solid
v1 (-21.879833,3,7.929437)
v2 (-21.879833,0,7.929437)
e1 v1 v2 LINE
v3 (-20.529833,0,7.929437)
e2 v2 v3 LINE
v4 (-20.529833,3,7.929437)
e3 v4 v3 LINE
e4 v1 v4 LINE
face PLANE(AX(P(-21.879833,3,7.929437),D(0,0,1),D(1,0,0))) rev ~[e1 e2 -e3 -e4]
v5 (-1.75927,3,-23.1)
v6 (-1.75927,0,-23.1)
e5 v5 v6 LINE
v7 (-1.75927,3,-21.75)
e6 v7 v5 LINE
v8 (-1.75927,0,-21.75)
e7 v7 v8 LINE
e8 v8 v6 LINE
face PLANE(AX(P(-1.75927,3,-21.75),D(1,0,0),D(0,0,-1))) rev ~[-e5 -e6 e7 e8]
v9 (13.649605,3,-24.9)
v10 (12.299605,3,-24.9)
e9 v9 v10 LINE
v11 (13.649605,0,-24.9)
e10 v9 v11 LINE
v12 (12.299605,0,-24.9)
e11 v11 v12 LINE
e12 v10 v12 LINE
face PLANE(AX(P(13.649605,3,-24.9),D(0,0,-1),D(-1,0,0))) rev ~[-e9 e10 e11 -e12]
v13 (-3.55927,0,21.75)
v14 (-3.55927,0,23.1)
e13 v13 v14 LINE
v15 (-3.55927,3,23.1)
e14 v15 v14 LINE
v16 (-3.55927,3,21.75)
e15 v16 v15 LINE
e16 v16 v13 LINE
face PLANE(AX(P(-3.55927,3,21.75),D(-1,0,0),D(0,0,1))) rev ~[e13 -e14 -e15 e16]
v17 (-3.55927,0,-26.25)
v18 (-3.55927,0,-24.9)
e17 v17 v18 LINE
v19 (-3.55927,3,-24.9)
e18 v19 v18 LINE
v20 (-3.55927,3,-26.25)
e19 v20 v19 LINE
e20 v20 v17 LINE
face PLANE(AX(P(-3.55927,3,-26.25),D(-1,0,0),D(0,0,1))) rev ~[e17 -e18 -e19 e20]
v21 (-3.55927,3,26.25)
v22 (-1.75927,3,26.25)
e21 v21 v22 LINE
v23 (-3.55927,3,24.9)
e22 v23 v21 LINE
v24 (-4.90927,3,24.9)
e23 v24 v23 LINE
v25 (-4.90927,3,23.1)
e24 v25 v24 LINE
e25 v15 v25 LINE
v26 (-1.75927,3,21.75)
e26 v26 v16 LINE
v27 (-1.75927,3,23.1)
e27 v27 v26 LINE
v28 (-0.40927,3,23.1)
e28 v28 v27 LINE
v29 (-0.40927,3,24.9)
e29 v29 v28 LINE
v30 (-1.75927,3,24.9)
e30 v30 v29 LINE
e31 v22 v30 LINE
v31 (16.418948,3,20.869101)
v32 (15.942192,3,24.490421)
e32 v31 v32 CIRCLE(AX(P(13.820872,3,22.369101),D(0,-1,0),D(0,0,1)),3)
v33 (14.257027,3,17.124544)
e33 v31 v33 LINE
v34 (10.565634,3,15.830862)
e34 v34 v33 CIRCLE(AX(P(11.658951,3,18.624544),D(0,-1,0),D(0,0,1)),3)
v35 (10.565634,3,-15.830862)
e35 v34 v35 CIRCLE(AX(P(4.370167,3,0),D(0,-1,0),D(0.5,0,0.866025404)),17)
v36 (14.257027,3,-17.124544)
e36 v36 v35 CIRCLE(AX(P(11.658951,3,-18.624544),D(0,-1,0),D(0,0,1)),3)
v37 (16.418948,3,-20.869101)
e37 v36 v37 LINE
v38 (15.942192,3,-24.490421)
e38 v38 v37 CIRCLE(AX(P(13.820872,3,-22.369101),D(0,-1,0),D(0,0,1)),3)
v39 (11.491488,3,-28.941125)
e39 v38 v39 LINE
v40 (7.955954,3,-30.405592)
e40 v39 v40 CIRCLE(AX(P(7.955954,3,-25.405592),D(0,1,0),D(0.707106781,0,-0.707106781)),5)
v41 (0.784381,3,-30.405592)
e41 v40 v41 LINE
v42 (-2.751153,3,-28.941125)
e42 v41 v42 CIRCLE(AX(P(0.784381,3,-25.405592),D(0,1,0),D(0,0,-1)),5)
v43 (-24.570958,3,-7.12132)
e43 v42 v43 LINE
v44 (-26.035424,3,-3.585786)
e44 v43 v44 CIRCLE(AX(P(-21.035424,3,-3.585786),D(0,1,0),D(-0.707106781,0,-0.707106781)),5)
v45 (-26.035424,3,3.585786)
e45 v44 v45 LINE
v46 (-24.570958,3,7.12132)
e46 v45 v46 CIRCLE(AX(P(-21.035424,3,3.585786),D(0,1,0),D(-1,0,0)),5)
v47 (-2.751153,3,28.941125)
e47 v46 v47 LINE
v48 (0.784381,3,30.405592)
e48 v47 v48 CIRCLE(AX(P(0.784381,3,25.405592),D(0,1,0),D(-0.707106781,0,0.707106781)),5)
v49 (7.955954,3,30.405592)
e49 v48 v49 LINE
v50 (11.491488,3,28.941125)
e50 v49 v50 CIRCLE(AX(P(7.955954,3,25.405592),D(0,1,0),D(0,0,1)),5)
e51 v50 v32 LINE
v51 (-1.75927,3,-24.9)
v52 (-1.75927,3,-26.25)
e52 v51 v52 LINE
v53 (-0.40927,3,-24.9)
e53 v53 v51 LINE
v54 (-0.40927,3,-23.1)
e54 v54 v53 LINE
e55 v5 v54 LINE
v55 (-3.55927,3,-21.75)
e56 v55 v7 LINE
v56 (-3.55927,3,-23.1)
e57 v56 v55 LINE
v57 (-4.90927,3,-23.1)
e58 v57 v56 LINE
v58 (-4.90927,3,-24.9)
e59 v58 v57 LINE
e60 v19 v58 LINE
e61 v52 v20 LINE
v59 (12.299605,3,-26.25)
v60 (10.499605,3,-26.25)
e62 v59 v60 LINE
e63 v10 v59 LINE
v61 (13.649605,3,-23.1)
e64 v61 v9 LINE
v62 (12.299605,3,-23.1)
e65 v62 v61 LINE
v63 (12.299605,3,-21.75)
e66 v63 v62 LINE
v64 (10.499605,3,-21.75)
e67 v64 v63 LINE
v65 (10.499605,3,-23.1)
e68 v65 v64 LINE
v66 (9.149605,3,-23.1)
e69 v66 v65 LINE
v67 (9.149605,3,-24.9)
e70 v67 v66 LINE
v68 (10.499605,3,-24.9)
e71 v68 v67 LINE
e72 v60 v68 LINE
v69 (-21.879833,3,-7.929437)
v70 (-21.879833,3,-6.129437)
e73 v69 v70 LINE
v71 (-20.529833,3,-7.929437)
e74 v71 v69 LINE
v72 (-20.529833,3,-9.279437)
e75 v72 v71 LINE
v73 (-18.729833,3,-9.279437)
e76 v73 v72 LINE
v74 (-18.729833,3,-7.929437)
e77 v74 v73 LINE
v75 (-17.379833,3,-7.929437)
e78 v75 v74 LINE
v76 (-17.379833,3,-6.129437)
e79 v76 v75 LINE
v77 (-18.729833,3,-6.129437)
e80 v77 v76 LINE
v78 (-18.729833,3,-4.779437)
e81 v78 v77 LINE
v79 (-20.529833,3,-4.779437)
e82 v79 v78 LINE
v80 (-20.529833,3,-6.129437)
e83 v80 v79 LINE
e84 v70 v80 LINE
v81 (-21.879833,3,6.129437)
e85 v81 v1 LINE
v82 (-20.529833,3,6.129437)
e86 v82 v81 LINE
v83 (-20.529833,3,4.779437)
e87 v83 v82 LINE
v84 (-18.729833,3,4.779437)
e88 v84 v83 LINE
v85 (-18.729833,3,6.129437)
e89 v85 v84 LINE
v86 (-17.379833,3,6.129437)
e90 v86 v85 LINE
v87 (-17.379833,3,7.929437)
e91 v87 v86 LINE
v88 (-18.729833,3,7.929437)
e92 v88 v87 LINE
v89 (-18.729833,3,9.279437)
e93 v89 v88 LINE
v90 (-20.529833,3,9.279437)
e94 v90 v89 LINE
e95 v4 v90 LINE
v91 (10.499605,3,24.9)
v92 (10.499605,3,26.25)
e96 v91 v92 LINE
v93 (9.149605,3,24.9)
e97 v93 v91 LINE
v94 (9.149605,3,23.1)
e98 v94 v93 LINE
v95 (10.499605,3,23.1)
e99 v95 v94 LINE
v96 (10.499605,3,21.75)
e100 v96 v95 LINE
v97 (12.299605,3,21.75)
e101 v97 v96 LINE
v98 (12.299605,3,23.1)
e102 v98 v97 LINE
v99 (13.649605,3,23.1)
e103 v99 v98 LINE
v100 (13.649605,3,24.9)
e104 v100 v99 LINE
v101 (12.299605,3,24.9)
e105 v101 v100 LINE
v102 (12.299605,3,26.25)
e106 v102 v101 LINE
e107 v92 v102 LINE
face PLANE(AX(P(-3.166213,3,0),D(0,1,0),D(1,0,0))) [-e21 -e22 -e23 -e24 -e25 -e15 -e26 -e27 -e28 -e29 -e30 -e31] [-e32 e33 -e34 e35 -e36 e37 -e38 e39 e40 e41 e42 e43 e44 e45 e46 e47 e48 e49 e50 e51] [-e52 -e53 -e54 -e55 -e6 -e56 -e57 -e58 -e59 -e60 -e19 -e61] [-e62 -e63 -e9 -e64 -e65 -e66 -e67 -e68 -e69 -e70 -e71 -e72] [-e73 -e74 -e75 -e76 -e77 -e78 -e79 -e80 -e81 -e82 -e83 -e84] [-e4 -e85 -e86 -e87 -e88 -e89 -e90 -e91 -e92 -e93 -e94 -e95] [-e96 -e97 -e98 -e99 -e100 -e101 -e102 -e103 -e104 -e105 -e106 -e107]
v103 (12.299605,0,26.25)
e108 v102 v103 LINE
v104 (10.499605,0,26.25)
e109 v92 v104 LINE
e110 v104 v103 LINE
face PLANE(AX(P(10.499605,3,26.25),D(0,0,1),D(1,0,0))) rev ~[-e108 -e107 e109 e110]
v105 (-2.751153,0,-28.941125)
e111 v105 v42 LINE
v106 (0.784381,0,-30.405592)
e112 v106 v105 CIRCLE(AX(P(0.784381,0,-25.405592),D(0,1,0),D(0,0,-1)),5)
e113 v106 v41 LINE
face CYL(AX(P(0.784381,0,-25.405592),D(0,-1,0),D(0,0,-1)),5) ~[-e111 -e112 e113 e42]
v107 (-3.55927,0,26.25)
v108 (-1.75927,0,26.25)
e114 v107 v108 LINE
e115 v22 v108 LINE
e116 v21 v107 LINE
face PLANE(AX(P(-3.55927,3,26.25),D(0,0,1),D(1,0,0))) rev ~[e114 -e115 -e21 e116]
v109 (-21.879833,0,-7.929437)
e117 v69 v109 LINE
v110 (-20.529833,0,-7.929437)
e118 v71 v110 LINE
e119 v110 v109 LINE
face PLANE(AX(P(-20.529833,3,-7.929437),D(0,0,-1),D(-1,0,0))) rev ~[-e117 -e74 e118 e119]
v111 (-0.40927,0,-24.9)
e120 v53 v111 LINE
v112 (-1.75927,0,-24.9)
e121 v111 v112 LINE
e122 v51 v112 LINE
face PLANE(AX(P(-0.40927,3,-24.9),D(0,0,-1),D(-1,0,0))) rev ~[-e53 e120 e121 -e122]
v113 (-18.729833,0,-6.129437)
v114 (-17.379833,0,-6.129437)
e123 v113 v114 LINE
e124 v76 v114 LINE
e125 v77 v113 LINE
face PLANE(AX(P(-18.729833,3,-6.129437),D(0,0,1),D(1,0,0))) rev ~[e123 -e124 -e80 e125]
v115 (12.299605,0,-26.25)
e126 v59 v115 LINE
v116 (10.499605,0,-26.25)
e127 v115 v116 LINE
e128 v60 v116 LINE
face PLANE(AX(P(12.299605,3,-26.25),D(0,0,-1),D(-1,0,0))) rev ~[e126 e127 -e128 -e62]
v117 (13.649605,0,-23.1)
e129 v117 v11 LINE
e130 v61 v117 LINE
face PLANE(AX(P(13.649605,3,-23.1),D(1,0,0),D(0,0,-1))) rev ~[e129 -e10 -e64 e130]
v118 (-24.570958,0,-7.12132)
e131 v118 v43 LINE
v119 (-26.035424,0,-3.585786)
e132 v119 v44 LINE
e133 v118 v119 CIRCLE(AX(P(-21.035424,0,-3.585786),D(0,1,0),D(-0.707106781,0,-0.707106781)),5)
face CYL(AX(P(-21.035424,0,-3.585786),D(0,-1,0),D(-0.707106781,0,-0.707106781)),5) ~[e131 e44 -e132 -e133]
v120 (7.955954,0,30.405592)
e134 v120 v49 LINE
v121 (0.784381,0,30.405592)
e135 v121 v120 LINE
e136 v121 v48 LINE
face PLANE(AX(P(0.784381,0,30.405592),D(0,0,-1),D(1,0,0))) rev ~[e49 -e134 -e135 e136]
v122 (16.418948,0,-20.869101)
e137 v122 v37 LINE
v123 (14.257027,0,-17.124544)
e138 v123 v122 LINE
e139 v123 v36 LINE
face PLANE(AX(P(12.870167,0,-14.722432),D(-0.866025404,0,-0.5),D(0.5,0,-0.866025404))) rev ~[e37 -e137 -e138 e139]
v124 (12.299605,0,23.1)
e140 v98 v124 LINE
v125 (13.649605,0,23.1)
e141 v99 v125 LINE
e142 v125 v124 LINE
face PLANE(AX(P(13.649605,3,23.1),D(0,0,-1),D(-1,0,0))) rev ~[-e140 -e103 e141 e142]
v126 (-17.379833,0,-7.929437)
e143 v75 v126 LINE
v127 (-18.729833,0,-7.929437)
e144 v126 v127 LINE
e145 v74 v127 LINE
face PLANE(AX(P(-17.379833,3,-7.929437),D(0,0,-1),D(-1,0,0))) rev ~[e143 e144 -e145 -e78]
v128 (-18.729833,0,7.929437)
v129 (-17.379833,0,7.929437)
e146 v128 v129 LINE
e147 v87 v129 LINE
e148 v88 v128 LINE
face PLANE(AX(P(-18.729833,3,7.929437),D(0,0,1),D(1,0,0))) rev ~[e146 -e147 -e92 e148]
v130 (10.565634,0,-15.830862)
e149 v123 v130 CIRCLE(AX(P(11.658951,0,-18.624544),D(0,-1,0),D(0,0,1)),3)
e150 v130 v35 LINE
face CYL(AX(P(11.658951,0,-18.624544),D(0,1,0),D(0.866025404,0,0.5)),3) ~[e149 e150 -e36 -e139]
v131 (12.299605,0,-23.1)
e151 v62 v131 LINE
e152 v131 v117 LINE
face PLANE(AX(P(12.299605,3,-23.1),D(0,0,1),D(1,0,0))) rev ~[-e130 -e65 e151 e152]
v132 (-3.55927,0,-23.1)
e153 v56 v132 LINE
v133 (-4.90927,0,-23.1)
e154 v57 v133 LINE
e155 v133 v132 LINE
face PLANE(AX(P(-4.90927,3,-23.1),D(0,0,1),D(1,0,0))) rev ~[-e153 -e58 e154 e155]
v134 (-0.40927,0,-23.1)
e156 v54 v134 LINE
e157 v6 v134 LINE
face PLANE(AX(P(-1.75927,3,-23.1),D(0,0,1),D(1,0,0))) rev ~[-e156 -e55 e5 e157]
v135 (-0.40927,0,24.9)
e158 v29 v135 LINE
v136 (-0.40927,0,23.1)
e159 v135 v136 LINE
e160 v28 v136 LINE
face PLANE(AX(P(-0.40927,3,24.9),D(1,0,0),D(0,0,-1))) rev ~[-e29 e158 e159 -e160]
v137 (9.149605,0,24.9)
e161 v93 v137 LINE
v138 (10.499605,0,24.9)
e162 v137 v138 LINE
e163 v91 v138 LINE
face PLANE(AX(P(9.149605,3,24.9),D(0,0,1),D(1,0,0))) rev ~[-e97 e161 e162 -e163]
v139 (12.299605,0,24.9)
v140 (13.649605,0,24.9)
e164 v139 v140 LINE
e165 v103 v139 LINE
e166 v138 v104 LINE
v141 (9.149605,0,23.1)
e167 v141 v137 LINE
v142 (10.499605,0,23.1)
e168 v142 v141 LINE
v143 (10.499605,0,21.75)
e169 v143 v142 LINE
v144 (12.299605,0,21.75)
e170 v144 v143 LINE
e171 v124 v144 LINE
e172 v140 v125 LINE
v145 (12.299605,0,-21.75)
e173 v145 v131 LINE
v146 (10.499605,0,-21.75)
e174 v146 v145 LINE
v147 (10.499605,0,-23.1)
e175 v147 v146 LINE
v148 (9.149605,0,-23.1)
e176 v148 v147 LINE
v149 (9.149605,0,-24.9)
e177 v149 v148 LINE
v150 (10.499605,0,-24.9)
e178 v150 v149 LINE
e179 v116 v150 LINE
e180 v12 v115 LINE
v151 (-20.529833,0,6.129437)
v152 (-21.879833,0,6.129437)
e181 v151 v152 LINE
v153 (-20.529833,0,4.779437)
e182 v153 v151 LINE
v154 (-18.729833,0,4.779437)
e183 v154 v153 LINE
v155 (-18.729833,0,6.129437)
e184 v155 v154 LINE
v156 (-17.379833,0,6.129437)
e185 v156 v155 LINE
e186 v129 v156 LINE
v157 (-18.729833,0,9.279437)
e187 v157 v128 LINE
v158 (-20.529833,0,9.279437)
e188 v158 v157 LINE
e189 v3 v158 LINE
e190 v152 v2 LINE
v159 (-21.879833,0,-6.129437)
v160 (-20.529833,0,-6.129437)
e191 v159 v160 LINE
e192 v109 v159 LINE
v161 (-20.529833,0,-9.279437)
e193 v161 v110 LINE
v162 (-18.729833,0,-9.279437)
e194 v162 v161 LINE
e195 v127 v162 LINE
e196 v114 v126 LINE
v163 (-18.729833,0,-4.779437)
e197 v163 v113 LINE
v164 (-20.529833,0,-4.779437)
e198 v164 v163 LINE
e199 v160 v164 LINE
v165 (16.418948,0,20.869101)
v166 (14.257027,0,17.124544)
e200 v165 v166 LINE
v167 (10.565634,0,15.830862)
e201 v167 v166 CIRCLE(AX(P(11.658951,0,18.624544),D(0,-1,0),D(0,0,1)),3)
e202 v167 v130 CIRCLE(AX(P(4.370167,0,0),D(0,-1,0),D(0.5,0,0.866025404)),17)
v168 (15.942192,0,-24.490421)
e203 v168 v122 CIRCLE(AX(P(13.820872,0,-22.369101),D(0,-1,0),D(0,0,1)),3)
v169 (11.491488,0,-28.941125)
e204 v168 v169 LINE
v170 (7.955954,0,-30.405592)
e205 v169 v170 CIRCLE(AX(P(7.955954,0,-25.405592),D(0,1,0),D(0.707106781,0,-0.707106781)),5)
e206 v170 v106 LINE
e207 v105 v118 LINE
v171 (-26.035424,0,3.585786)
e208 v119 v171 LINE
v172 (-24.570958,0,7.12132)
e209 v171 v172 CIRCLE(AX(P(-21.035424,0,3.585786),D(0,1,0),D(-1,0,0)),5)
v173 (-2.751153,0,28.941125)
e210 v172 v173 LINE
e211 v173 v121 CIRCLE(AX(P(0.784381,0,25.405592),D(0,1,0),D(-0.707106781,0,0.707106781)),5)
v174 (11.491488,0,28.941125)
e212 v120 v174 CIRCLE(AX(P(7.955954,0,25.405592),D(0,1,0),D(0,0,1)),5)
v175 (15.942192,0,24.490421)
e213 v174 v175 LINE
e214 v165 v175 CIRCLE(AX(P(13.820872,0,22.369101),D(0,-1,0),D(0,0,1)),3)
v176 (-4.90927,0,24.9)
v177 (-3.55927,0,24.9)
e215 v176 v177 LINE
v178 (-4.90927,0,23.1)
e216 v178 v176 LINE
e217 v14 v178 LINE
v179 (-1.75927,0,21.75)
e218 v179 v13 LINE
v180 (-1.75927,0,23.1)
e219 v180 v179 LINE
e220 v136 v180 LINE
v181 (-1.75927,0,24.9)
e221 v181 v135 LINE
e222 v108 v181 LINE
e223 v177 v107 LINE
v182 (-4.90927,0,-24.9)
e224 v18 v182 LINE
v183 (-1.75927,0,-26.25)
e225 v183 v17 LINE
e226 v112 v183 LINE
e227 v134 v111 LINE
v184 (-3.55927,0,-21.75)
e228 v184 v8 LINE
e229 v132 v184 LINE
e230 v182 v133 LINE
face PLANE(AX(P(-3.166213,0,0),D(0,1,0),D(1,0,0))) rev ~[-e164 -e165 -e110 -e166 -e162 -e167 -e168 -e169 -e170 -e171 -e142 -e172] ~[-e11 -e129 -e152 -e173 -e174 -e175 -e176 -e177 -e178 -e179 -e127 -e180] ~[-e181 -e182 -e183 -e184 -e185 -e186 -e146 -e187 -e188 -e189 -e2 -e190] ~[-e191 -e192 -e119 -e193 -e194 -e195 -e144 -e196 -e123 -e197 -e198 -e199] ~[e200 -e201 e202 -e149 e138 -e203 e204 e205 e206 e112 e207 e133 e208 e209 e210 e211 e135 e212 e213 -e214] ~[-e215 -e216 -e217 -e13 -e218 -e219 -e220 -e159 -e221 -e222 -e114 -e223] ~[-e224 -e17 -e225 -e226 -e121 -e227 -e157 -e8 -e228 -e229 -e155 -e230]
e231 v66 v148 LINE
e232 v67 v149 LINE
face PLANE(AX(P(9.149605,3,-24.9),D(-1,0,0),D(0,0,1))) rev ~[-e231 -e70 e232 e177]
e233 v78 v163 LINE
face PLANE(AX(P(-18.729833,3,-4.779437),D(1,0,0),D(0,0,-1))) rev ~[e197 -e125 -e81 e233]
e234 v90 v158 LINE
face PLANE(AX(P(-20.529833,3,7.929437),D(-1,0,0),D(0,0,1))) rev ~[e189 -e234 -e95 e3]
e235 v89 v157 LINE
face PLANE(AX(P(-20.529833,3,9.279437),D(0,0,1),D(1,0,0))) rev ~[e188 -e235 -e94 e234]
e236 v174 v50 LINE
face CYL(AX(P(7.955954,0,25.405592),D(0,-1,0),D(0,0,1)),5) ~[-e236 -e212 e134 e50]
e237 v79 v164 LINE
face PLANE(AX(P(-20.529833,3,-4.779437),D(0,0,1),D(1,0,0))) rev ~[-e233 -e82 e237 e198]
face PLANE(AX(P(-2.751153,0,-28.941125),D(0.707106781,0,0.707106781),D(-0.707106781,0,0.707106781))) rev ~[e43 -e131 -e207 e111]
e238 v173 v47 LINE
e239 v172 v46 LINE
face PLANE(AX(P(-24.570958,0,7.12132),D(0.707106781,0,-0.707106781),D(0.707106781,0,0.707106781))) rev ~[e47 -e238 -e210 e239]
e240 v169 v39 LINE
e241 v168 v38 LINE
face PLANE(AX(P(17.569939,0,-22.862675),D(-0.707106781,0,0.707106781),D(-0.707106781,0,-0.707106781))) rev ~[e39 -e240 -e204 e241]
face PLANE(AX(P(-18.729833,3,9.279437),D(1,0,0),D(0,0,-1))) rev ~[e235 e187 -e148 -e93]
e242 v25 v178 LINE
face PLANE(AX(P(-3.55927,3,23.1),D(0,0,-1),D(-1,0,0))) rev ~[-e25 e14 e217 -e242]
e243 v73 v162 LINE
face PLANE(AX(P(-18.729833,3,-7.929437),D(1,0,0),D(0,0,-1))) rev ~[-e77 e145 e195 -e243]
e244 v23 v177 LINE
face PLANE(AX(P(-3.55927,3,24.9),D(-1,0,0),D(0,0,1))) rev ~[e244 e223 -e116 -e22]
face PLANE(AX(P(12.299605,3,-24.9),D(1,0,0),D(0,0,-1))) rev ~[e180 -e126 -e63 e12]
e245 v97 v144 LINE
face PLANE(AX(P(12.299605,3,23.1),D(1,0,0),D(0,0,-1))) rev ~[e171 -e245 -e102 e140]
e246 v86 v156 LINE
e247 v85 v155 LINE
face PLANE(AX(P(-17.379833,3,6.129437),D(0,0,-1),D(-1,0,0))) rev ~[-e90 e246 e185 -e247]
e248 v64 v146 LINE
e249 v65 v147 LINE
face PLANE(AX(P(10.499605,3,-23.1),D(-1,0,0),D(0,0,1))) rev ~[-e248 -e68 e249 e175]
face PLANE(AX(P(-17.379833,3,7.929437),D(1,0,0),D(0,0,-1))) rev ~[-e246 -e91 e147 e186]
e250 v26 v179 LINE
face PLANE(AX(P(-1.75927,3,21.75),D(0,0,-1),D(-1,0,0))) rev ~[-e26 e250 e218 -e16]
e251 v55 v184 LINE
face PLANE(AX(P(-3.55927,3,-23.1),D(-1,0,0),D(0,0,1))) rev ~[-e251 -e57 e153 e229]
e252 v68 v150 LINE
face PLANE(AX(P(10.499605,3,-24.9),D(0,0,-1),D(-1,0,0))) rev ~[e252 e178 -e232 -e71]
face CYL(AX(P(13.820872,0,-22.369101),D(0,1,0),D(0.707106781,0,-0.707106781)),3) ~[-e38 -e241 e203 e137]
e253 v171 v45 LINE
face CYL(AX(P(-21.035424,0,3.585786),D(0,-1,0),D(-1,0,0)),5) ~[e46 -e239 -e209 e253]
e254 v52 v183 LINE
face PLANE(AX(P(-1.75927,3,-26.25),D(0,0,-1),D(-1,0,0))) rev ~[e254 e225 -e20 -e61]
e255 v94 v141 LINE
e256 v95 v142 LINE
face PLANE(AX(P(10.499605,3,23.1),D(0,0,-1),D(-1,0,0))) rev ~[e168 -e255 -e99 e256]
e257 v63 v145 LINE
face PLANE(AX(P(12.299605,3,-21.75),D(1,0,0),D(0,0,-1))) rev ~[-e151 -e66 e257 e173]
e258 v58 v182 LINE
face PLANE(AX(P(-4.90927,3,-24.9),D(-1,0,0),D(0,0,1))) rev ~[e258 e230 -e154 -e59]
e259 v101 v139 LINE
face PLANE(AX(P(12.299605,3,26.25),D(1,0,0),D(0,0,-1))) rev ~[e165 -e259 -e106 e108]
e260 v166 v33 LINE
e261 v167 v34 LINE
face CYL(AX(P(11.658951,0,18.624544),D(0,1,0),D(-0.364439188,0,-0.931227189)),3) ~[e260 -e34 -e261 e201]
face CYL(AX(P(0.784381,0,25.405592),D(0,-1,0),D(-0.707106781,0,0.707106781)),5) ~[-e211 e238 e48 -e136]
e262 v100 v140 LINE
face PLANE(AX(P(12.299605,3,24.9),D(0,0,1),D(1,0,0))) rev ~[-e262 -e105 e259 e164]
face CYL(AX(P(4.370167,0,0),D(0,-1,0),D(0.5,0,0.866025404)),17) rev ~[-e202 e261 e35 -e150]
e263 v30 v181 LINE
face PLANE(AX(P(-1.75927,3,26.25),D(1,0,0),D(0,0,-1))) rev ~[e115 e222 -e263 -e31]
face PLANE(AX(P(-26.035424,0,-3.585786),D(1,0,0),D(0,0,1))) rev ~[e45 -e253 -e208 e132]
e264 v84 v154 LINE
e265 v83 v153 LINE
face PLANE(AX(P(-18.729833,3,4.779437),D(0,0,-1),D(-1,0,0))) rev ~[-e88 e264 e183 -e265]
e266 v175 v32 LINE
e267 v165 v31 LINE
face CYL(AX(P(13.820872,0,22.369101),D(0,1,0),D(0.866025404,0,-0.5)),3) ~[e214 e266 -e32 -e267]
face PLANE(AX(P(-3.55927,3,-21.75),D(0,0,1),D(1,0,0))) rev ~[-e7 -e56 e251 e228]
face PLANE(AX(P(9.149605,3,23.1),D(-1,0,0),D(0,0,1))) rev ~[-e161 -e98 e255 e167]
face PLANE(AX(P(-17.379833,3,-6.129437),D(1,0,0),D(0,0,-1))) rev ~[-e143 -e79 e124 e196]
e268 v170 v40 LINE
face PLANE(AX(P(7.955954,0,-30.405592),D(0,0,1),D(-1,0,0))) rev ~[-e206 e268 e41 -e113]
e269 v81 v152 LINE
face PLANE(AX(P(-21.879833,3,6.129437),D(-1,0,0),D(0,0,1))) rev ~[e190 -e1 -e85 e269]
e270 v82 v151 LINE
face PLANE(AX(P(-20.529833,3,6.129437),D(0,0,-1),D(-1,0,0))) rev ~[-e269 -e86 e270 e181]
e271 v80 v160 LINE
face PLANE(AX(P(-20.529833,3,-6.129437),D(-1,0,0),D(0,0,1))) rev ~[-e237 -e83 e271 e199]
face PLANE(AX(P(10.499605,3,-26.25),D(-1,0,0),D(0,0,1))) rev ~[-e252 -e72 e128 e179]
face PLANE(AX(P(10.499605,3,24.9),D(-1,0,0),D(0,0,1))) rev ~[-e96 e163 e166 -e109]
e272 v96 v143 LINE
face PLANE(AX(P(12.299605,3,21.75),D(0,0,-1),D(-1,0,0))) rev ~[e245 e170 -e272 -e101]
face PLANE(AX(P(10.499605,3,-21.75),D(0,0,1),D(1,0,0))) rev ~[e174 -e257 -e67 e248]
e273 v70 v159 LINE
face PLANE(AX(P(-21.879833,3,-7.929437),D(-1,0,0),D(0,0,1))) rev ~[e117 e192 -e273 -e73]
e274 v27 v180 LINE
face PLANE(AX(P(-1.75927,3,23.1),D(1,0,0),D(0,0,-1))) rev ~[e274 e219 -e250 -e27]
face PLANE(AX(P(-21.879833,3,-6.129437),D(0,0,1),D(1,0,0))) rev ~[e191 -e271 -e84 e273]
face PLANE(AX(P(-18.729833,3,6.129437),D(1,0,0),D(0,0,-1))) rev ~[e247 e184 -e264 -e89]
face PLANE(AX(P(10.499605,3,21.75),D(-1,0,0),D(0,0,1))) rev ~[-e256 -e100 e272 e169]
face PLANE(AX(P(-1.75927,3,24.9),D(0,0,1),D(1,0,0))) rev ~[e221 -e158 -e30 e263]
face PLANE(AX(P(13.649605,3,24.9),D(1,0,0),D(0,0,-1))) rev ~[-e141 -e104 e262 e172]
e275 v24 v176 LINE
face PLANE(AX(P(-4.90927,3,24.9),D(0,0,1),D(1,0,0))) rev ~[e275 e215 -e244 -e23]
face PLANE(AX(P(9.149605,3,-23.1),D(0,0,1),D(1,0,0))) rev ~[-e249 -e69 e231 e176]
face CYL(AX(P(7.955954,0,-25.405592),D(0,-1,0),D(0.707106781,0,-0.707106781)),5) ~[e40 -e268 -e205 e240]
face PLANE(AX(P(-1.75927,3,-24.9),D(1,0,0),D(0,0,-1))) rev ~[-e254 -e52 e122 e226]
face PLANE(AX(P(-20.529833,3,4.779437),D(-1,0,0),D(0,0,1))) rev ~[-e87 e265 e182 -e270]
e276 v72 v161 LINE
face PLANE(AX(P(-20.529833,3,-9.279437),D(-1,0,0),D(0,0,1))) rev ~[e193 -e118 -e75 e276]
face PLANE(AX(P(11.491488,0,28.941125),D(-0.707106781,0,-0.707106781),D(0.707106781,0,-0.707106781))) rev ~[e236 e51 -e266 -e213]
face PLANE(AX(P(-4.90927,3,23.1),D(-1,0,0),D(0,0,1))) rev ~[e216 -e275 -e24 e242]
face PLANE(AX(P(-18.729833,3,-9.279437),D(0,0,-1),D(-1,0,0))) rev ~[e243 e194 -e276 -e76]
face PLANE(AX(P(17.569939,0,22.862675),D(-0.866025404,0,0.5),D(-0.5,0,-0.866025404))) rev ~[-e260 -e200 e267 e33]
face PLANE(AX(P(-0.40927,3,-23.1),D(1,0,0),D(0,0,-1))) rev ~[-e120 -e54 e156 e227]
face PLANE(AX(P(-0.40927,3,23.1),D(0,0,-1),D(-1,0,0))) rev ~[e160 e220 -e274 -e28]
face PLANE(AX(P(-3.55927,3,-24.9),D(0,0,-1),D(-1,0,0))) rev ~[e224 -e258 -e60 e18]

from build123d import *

# Parameters (mm, degrees)
BOSS_EXTRUDE1_DEPTH = 3
CUT_EXTRUDE1_DEPTH  = 4
FILLET1_R           = 3


with BuildPart() as part:
    # Sketch1 → Boss-Extrude1 (new body)
    with BuildSketch(Plane(origin=(0, 0, 0), x_dir=(1, 0, 0), z_dir=(0, 1, 0))):
        with BuildLine():
            Line((17.56993863, 22.86267454), (11.491487674, 28.941125497))
            ThreePointArc((11.491487674, 28.941125497), (9.869370929, 30.024989254), (7.955953768, 30.405591591))
            Line((7.955953768, 30.405591591), (0.784380892, 30.405591591))
            ThreePointArc((0.784380892, 30.405591591), (-1.129036269, 30.024989254), (-2.751153014, 28.941125497))
            Line((-2.751153014, 28.941125497), (-24.570958167, 7.121320344))
            ThreePointArc((-24.570958167, 7.121320344), (-25.654821924, 5.499203599), (-26.035424261, 3.585786438))
            Line((-26.035424261, 3.585786438), (-26.035424261, -3.585786438))
            ThreePointArc((-26.035424261, -3.585786438), (-25.654821924, -5.499203599), (-24.570958167, -7.121320344))
            Line((-24.570958167, -7.121320344), (-2.751153014, -28.941125497))
            ThreePointArc((-2.751153014, -28.941125497), (-1.129036269, -30.024989254), (0.784380892, -30.405591591))
            Line((0.784380892, -30.405591591), (7.955953768, -30.405591591))
            ThreePointArc((7.955953768, -30.405591591), (9.869370929, -30.024989254), (11.491487674, -28.941125497))
            Line((11.491487674, -28.941125497), (17.56993863, -22.86267454))
            Line((17.56993863, -22.86267454), (12.87016733, -14.722431864))
            ThreePointArc((12.87016733, -14.722431864), (-12.62983267, 0), (12.87016733, 14.722431864))
            Line((12.87016733, 14.722431864), (17.56993863, 22.86267454))
        make_face()
    extrude(amount=BOSS_EXTRUDE1_DEPTH)

    # Sketch2 → Cut-Extrude1 (cut, through all)
    with BuildSketch(Plane(origin=(0, 3, 0), x_dir=(1, 0, 0), z_dir=(0, 1, 0))):
        Polygon((-21.87983267, 7.929437252), (-21.87983267, 6.129437252), (-20.52983267, 6.129437252), (-20.52983267, 4.779437252), (-18.72983267, 4.779437252), (-18.72983267, 6.129437252), (-17.37983267, 6.129437252), (-17.37983267, 7.929437252), (-18.72983267, 7.929437252), (-18.72983267, 9.279437252), (-20.52983267, 9.279437252), (-20.52983267, 7.929437252), align=None)
        Polygon((-18.72983267, -4.779437252), (-20.52983267, -4.779437252), (-20.52983267, -6.129437252), (-21.87983267, -6.129437252), (-21.87983267, -7.929437252), (-20.52983267, -7.929437252), (-20.52983267, -9.279437252), (-18.72983267, -9.279437252), (-18.72983267, -7.929437252), (-17.37983267, -7.929437252), (-17.37983267, -6.129437252), (-18.72983267, -6.129437252), align=None)
        Polygon((12.299604582, 23.1), (13.649604582, 23.1), (13.649604582, 24.9), (12.299604582, 24.9), (12.299604582, 26.25), (10.499604582, 26.25), (10.499604582, 24.9), (9.149604582, 24.9), (9.149604582, 23.1), (10.499604582, 23.1), (10.499604582, 21.75), (12.299604582, 21.75), align=None)
        Polygon((30.62016733, -7.929437252), (30.62016733, -6.129437252), (29.27016733, -6.129437252), (29.27016733, -4.779437252), (27.47016733, -4.779437252), (27.47016733, -6.129437252), (26.12016733, -6.129437252), (26.12016733, -7.929437252), (27.47016733, -7.929437252), (27.47016733, -9.279437252), (29.27016733, -9.279437252), (29.27016733, -7.929437252), align=None)
        Polygon((-0.409269922, 24.9), (-1.759269922, 24.9), (-1.759269922, 26.25), (-3.559269922, 26.25), (-3.559269922, 24.9), (-4.909269922, 24.9), (-4.909269922, 23.1), (-3.559269922, 23.1), (-3.559269922, 21.75), (-1.759269922, 21.75), (-1.759269922, 23.1), (-0.409269922, 23.1), align=None)
        Polygon((30.62016733, 7.929437252), (29.27016733, 7.929437252), (29.27016733, 9.279437252), (27.47016733, 9.279437252), (27.47016733, 7.929437252), (26.12016733, 7.929437252), (26.12016733, 6.129437252), (27.47016733, 6.129437252), (27.47016733, 4.779437252), (29.27016733, 4.779437252), (29.27016733, 6.129437252), (30.62016733, 6.129437252), align=None)
        Polygon((-1.759269922, -26.25), (-1.759269922, -24.9), (-0.409269922, -24.9), (-0.409269922, -23.1), (-1.759269922, -23.1), (-1.759269922, -21.75), (-3.559269922, -21.75), (-3.559269922, -23.1), (-4.909269922, -23.1), (-4.909269922, -24.9), (-3.559269922, -24.9), (-3.559269922, -26.25), align=None)
        Polygon((12.299604582, -26.25), (12.299604582, -24.9), (13.649604582, -24.9), (13.649604582, -23.1), (12.299604582, -23.1), (12.299604582, -21.75), (10.499604582, -21.75), (10.499604582, -23.1), (9.149604582, -23.1), (9.149604582, -24.9), (10.499604582, -24.9), (10.499604582, -26.25), align=None)
    extrude(amount=-CUT_EXTRUDE1_DEPTH, mode=Mode.SUBTRACT)

    # Fillet1
    fillet1_edges = [part.edges().sort_by_distance(p)[0] for p in [
        (12.87016733, 1.5, 14.722431864),
        (17.56993863, 1.5, 22.86267454),
        (17.56993863, 1.5, -22.86267454),
        (12.87016733, 1.5, -14.722431864),
    ]]
    fillet(fillet1_edges, radius=FILLET1_R)


solid = part.part
